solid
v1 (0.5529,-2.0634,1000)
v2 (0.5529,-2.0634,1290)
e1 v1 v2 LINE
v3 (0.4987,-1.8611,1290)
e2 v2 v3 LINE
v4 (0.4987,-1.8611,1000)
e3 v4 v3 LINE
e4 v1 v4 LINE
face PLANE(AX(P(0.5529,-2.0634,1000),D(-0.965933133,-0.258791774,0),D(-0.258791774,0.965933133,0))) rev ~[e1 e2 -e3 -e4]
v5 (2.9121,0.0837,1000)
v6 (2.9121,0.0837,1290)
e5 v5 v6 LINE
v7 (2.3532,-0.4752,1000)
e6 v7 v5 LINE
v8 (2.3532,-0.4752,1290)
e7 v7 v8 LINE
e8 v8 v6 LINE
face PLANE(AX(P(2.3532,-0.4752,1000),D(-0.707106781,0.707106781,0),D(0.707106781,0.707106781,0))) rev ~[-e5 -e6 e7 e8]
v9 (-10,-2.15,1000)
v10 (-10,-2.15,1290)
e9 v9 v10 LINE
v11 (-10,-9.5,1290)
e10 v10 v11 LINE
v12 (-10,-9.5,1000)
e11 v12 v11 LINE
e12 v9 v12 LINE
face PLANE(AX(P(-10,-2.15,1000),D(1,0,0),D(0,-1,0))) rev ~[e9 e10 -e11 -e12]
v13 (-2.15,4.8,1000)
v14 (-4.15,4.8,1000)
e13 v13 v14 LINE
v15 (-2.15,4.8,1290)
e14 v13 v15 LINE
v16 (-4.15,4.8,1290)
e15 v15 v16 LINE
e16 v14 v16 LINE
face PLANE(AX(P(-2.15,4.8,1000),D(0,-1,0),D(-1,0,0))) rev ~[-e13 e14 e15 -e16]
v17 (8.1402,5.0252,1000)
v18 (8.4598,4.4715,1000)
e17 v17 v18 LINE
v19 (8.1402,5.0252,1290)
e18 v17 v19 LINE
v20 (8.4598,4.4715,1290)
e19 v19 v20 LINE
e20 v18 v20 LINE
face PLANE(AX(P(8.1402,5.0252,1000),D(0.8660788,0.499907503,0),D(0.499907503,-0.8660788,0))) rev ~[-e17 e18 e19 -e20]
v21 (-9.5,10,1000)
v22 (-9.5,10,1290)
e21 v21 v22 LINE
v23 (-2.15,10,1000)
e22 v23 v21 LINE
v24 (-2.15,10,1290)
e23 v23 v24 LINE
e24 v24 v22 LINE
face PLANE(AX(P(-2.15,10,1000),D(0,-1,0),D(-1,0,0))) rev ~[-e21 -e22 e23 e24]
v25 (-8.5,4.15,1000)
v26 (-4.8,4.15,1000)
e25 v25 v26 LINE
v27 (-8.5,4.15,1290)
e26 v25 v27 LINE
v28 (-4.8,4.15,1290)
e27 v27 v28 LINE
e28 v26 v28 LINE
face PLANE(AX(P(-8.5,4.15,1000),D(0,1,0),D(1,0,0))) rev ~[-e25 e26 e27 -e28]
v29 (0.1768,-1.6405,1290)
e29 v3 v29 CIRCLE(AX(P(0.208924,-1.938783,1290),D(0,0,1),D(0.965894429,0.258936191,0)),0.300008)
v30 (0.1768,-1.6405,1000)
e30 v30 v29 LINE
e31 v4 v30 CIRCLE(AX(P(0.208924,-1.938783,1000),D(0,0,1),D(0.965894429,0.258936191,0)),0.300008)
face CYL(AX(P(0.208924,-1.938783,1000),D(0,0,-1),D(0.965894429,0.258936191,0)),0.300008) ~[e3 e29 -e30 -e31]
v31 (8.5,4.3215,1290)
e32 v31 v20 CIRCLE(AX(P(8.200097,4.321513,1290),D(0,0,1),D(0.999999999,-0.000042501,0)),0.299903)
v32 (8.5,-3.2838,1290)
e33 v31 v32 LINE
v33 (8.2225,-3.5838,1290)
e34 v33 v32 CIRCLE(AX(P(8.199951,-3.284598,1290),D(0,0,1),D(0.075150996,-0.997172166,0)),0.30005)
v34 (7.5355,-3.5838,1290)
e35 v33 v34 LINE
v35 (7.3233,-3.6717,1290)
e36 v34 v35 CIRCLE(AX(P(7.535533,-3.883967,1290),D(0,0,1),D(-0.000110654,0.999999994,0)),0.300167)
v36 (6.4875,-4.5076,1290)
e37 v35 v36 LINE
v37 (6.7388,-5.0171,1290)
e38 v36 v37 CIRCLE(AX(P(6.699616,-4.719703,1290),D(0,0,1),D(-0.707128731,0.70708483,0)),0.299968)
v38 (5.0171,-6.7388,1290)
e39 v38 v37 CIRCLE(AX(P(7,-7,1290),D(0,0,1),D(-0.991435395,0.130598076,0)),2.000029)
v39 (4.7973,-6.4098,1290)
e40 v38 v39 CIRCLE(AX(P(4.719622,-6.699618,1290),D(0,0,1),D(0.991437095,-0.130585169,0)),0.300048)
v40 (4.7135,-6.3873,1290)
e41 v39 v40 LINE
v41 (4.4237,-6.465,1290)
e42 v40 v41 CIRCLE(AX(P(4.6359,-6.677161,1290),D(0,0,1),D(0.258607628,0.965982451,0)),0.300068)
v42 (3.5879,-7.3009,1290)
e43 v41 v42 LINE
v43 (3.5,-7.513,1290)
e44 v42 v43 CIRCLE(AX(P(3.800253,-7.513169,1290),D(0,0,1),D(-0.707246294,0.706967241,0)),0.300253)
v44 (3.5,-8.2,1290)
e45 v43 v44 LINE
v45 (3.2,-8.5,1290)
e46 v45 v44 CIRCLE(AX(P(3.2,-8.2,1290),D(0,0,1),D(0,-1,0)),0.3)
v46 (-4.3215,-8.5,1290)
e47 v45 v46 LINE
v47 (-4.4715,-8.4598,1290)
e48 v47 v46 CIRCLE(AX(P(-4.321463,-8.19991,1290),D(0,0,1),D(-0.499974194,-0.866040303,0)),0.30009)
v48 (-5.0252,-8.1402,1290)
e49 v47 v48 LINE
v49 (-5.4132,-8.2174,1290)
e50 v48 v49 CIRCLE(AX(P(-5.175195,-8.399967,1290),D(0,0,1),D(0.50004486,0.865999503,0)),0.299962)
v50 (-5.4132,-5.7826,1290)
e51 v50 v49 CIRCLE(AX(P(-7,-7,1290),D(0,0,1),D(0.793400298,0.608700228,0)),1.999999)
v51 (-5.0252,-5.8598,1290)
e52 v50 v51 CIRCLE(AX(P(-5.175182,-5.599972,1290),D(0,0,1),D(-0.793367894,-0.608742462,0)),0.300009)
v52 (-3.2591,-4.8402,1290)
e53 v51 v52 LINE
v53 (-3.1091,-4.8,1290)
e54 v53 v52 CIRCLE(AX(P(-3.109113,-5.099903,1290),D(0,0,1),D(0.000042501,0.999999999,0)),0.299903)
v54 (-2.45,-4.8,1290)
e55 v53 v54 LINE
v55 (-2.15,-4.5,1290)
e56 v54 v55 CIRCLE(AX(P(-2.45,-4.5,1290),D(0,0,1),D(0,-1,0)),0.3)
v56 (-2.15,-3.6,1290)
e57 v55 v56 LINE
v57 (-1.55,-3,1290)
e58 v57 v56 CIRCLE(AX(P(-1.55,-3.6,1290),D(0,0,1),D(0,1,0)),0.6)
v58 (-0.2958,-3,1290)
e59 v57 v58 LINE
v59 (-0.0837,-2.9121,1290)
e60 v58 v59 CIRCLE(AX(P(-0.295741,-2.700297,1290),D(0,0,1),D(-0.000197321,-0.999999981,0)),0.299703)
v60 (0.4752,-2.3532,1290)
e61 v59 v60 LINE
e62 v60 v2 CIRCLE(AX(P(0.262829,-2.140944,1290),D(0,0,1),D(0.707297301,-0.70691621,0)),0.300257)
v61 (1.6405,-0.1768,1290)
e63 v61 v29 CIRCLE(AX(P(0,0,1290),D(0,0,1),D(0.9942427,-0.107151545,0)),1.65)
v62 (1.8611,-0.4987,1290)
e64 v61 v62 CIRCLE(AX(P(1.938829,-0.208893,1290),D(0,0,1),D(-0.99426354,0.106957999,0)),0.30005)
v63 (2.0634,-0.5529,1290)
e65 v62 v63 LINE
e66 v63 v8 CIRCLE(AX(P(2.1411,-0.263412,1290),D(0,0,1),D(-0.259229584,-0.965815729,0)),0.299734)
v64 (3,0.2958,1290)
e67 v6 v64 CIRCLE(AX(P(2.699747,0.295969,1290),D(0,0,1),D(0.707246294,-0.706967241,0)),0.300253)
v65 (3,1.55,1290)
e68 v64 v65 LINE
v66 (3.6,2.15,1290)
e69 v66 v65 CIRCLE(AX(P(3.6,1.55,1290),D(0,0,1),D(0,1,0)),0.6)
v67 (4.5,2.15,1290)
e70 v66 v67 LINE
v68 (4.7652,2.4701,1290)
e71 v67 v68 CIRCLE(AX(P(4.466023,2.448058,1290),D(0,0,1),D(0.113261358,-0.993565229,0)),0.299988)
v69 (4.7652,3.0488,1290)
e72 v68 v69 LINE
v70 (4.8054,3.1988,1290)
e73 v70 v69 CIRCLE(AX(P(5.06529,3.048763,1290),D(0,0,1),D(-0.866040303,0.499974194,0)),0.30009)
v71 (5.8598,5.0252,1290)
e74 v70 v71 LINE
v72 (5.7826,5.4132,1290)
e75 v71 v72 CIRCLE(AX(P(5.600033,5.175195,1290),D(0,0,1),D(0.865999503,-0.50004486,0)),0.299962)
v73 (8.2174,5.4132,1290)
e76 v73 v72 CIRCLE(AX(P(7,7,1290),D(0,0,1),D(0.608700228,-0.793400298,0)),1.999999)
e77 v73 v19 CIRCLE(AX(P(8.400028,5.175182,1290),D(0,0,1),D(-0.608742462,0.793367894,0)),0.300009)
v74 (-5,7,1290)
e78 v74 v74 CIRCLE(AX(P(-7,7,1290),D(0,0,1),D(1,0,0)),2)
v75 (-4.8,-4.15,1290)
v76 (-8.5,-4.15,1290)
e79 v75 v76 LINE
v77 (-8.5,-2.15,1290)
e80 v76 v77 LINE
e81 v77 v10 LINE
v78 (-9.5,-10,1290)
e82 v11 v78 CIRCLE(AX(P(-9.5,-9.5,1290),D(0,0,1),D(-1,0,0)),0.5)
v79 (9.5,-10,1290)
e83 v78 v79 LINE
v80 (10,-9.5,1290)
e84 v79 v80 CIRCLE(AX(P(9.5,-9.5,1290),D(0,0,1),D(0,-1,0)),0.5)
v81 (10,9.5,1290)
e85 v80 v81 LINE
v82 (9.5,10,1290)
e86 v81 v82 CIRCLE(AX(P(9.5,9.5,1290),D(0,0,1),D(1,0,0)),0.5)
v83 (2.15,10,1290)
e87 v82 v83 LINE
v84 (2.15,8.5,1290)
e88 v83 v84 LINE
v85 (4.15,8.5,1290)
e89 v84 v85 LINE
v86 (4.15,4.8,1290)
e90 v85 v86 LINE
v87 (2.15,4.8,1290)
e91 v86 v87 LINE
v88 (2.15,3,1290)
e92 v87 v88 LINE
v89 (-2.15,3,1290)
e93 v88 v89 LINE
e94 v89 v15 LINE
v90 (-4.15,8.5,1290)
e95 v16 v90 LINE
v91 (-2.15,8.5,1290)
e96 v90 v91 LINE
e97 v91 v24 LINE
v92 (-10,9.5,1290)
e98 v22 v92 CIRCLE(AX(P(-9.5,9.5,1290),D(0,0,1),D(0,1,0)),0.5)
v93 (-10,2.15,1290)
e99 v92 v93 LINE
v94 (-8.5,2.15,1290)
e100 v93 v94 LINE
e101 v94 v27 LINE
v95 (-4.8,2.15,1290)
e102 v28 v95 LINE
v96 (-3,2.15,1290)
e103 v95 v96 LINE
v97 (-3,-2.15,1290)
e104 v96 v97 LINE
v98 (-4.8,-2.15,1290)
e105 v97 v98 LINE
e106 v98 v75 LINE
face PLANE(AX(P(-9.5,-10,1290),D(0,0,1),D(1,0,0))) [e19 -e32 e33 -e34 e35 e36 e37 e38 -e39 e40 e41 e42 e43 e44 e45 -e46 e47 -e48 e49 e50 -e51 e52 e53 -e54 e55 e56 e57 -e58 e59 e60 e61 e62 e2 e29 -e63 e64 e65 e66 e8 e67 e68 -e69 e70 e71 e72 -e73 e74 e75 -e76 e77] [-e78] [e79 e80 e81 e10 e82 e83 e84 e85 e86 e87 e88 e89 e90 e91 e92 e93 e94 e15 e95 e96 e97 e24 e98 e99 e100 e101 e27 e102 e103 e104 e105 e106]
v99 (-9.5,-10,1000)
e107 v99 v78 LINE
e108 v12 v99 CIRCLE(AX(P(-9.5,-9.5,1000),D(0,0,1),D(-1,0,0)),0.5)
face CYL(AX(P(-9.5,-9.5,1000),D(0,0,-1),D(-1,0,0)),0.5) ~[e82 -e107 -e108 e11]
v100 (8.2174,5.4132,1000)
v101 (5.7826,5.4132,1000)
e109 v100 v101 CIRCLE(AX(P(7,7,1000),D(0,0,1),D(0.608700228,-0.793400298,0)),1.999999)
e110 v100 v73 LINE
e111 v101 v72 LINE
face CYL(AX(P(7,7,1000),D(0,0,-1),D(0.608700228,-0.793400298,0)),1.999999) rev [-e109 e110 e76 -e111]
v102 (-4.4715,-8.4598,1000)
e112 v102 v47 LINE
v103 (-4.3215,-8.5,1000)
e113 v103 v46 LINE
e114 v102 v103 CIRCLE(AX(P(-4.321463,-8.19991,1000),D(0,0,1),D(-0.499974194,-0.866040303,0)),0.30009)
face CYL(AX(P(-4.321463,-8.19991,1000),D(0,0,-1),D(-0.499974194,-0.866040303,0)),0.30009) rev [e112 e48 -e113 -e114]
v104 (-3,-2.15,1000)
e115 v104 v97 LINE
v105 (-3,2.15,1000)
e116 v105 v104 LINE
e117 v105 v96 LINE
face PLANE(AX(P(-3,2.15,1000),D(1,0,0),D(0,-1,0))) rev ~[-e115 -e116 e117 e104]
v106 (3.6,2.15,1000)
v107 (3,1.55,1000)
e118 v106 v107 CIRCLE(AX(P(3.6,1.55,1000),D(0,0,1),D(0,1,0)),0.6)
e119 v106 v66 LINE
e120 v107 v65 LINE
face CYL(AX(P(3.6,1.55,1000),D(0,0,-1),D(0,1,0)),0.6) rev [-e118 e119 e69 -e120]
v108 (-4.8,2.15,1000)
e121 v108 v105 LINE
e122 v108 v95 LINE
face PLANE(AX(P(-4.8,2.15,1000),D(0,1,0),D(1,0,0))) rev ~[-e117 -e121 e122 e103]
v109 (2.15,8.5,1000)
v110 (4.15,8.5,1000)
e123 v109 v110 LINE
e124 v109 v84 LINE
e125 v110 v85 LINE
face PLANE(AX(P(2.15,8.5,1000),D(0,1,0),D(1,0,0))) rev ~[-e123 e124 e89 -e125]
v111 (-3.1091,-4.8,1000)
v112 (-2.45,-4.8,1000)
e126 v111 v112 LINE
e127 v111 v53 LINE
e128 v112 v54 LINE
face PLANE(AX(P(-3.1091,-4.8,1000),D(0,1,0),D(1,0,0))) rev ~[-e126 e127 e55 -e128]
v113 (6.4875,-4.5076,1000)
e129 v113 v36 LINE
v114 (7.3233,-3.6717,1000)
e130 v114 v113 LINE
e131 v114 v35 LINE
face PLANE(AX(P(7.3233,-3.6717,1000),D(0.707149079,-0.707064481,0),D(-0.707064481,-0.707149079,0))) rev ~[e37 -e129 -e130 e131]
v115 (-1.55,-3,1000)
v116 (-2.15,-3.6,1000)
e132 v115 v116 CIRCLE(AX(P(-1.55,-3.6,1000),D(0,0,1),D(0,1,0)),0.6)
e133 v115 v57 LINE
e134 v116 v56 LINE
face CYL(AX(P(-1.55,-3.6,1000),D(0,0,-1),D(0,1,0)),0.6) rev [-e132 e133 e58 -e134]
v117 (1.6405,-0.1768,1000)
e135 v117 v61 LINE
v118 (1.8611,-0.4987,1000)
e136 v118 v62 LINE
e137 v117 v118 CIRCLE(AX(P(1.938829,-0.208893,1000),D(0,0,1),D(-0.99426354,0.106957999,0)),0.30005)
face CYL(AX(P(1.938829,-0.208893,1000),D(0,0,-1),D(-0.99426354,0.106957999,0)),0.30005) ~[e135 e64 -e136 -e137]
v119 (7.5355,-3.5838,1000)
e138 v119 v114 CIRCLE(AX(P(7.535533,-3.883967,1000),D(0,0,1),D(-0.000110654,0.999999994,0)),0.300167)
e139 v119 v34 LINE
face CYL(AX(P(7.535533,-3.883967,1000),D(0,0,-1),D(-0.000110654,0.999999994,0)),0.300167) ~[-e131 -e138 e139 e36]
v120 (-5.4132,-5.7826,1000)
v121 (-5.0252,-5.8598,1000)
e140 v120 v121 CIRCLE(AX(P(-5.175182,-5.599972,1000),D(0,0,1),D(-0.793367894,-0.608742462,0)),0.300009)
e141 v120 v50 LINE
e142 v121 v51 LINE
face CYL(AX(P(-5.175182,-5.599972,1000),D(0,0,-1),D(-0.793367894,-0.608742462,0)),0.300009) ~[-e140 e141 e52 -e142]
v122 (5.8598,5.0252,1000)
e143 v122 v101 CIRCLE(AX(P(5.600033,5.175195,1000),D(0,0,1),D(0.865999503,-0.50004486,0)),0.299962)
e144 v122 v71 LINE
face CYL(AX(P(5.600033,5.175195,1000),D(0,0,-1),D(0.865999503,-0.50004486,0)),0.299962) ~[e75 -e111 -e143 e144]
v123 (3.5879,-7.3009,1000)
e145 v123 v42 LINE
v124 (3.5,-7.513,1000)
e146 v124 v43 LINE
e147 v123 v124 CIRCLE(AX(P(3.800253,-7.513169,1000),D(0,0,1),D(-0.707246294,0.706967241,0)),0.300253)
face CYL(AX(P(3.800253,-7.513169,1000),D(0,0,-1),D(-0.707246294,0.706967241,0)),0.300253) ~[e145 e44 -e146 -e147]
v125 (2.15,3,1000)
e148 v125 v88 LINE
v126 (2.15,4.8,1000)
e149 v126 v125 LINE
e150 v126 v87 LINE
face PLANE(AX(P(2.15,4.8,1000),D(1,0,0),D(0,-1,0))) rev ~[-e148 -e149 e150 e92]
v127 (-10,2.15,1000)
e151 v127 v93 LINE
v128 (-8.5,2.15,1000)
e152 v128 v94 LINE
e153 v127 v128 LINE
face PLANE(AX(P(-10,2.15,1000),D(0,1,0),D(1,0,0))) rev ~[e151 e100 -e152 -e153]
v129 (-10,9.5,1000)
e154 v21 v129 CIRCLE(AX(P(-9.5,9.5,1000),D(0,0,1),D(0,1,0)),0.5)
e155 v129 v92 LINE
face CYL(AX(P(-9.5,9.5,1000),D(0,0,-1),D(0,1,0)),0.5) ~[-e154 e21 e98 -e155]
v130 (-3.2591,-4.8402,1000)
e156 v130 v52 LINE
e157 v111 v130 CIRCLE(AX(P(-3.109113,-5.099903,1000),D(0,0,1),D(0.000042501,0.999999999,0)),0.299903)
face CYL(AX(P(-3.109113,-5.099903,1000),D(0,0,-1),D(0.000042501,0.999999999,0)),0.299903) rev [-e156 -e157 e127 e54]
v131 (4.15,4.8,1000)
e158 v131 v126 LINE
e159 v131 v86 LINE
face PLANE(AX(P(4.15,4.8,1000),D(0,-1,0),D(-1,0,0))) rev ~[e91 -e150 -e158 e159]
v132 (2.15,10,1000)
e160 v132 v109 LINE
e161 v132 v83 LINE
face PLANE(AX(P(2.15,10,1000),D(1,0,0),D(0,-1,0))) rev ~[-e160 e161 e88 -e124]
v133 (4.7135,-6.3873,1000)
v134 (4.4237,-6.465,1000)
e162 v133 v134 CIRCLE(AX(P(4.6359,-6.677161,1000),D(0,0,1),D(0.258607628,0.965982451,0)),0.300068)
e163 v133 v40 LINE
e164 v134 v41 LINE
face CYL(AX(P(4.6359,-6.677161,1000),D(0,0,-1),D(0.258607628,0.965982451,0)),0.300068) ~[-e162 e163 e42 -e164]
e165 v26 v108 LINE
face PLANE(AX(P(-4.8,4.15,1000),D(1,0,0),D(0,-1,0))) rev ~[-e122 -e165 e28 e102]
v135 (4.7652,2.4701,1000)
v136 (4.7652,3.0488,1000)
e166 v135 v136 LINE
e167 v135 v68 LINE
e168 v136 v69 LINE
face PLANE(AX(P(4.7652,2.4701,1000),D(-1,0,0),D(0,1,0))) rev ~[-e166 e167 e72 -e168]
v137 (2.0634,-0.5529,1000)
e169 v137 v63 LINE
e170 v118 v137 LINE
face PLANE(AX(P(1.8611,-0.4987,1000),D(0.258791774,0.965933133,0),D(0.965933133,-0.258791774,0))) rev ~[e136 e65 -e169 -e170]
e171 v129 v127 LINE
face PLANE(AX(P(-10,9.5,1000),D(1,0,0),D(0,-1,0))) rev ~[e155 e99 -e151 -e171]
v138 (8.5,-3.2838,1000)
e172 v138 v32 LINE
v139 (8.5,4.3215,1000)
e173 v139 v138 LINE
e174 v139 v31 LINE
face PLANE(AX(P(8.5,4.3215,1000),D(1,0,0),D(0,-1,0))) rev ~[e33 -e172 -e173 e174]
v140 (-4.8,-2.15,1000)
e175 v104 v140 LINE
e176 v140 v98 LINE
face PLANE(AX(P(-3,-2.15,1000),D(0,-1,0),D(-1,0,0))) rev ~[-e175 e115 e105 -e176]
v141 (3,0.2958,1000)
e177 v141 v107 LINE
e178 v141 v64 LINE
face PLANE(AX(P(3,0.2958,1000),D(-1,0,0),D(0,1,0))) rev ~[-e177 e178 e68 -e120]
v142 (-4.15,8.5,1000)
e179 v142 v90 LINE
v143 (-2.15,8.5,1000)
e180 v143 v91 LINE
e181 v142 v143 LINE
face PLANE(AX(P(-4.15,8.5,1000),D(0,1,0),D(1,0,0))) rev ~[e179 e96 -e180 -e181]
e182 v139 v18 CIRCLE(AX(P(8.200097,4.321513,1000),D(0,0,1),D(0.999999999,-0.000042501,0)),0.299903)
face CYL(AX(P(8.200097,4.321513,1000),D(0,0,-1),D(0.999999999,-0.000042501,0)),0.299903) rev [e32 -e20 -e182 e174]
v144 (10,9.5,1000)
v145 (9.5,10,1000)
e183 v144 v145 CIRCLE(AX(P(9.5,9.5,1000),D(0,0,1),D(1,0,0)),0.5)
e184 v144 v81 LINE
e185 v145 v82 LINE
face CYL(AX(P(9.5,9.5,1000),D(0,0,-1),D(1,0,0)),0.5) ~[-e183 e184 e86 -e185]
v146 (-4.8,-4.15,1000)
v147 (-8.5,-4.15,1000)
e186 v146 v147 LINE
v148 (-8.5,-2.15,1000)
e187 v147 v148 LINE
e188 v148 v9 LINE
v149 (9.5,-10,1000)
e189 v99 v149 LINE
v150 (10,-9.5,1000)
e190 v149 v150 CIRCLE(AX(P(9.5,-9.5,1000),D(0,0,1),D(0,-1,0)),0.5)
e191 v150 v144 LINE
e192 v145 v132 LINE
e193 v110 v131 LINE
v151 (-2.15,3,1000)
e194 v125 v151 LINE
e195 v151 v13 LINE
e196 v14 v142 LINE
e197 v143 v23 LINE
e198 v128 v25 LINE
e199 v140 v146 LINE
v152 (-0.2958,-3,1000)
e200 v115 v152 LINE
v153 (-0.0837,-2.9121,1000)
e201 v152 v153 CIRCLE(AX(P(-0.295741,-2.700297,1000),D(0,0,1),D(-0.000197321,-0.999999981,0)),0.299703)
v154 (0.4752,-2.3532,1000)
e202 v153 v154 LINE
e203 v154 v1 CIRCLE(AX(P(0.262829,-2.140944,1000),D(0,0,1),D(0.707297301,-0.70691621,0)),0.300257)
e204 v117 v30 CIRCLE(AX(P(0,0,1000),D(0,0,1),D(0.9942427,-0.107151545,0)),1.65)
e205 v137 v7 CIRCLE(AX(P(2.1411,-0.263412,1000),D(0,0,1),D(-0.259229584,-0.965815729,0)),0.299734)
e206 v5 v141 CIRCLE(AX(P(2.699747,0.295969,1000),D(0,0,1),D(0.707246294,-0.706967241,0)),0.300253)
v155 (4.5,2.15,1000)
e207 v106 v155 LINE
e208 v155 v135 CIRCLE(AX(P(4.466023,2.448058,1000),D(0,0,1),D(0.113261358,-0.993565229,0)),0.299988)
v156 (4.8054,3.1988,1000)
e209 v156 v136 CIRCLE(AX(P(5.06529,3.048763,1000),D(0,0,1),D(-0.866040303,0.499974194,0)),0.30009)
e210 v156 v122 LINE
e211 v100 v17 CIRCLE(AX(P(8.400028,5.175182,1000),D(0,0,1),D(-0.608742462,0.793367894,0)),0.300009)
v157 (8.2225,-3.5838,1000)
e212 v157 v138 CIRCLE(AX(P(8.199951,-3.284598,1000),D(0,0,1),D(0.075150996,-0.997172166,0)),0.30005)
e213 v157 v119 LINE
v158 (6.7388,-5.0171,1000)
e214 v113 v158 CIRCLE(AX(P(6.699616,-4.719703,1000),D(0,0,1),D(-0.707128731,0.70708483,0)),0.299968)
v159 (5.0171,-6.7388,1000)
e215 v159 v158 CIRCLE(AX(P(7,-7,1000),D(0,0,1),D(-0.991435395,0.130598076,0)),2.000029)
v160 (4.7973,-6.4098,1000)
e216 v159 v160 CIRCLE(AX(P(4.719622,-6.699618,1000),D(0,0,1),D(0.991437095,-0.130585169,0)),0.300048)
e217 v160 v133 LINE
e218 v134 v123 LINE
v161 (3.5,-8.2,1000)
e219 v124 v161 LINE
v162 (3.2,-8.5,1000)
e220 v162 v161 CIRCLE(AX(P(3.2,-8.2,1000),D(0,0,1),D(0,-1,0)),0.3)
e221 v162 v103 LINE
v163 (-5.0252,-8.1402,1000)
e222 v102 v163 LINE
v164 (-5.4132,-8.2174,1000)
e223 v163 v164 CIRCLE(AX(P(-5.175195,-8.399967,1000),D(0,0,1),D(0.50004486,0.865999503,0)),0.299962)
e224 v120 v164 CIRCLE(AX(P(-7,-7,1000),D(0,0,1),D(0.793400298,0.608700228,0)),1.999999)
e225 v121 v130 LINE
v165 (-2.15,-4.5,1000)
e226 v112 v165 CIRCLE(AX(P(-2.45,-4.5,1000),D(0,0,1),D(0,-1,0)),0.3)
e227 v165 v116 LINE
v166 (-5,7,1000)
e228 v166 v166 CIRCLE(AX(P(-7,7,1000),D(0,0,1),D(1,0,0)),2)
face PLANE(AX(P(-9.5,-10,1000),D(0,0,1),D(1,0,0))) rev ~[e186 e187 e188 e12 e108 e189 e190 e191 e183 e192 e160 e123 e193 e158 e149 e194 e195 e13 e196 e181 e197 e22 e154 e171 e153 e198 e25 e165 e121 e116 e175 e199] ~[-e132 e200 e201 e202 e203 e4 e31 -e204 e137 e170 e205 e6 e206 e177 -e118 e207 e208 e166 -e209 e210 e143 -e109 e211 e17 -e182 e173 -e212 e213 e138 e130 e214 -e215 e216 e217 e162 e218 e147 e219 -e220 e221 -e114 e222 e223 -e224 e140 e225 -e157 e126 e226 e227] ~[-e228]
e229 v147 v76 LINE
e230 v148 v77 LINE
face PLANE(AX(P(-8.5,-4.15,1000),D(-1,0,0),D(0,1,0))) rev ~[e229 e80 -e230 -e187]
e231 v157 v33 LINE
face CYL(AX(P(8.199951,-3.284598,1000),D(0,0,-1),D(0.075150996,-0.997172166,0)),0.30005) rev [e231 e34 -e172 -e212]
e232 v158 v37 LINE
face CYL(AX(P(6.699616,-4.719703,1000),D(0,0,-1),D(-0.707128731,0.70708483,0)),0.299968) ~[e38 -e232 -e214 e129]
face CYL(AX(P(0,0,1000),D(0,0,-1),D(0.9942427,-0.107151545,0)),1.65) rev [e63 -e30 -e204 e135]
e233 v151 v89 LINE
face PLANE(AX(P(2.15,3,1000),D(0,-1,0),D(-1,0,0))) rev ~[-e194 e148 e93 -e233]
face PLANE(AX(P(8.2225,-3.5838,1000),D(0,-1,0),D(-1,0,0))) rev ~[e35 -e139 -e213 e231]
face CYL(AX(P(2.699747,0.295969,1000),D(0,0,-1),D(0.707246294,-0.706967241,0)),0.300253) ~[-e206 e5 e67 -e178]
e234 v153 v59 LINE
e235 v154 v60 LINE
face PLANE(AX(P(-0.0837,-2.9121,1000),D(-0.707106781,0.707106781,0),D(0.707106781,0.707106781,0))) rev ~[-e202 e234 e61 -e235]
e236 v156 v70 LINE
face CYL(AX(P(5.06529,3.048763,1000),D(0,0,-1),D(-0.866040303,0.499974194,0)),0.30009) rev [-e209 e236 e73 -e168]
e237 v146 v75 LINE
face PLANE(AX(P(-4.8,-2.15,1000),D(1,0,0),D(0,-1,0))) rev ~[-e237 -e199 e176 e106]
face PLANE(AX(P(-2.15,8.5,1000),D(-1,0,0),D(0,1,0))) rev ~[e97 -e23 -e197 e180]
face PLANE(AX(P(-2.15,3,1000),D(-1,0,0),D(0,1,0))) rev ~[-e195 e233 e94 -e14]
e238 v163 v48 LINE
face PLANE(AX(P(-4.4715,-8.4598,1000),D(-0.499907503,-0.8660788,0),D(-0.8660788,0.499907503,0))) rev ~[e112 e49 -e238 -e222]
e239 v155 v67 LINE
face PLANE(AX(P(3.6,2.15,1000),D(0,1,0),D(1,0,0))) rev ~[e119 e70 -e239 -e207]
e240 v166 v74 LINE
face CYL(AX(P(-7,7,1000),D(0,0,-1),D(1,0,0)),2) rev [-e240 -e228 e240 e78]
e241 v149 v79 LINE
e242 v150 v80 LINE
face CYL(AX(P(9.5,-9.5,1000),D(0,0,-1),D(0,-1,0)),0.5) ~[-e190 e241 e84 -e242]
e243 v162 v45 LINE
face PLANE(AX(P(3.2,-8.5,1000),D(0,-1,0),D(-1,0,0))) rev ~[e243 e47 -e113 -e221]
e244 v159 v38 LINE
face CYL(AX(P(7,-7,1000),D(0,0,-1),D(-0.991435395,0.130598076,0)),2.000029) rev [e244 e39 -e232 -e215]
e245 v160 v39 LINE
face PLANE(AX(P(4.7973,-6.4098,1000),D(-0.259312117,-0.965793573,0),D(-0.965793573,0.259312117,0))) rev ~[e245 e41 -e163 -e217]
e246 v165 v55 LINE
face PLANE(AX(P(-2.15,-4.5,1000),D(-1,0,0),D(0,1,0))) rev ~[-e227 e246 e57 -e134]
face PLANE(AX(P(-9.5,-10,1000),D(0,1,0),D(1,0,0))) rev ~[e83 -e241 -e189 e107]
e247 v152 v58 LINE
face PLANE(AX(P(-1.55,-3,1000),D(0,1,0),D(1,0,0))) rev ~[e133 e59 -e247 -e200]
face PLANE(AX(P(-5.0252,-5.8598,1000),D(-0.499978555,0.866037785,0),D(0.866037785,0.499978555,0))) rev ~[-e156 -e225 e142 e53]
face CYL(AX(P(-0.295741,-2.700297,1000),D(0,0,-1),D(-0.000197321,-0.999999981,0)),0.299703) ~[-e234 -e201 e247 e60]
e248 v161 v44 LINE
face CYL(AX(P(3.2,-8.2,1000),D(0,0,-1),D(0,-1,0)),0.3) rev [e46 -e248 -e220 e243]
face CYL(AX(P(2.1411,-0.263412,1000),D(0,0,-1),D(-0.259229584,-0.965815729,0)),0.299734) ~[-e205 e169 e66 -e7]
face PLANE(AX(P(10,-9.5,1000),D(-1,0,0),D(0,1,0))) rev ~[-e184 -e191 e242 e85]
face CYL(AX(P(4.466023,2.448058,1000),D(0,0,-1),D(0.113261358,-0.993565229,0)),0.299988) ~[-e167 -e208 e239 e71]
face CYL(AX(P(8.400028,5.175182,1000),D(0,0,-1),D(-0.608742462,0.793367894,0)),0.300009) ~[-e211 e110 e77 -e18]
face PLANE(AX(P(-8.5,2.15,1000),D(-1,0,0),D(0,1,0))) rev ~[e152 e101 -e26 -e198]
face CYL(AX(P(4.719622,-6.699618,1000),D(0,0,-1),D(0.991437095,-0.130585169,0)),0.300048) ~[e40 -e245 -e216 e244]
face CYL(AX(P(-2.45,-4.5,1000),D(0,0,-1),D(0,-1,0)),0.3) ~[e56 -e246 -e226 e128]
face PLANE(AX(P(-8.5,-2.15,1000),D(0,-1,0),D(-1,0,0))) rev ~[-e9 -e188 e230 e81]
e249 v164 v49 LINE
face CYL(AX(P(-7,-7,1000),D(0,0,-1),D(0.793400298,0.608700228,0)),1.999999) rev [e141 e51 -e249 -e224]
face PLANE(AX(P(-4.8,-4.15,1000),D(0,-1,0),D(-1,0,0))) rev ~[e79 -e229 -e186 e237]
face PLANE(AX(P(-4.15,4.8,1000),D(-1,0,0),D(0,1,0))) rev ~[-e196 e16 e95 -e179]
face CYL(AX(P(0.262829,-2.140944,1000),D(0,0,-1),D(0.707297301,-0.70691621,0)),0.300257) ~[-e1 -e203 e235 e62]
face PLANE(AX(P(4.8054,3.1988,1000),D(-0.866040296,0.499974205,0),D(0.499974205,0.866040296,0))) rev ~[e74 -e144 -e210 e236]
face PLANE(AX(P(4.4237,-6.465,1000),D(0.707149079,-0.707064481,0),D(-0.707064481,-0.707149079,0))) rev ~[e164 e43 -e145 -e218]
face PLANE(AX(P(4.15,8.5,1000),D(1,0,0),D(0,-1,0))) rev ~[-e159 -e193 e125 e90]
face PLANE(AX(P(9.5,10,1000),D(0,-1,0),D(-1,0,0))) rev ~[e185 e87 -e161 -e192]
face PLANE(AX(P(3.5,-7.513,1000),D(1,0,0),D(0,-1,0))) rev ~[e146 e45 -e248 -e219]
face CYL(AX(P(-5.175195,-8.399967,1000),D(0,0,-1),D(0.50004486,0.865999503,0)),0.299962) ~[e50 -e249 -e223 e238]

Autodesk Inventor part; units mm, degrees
ref_plane "YZ Plane" through (0, 0, 0) normal (1, 0, 0) x (0, 1, 0)
ref_plane "XZ Plane" through (0, 0, 0) normal (0, 1, 0) x (-1, 0, 0)
ref_plane "作業平面1" through (-9.5, -10, 1000) normal (0, 0, 1) x (1, 0, 0)
sketch "スケッチ1" plane through (-9.5, -10, 1000) normal (0, 0, 1) x (1, 0, 0)
  line L0 (7.35, 18.5) -> (7.35, 20) projected
  line L1 (7.35, 20) -> (0, 20) projected
  arc A0 (0, 20) -> (-0.5, 19.5) centre (0, 19.5) ccw projected
  line L2 (-0.5, 19.5) -> (-0.5, 12.15) projected
  line L3 (-0.5, 12.15) -> (1, 12.15) projected
  line L4 (1, 12.15) -> (1, 14.15) projected
  line L5 (1, 14.15) -> (4.7, 14.15) projected
  line L6 (4.7, 14.15) -> (4.7, 12.15) projected
  line L7 (4.7, 12.15) -> (6.5, 12.15) projected
  line L8 (6.5, 12.15) -> (6.5, 7.85) projected
  line L9 (6.5, 7.85) -> (4.7, 7.85) projected
  line L10 (4.7, 7.85) -> (4.7, 5.85) projected
  line L11 (4.7, 5.85) -> (1, 5.85) projected
  line L12 (1, 5.85) -> (1, 7.85) projected
  line L13 (1, 7.85) -> (-0.5, 7.85) projected
  line L14 (-0.5, 7.85) -> (-0.5, 0.5) projected
  arc A1 (-0.5, 0.5) -> (0, 0) centre (0, 0.5) ccw projected
  line L15 (0, 0) -> (19, 0) projected
  arc A2 (19, 0) -> (19.5, 0.5) centre (19, 0.5) ccw projected
  line L16 (19.5, 0.5) -> (19.5, 19.5) projected
  arc A3 (19.5, 19.5) -> (19, 20) centre (19, 19.5) ccw projected
  line L17 (19, 20) -> (11.65, 20) projected
  line L18 (11.65, 20) -> (11.65, 18.5) projected
  line L19 (11.65, 18.5) -> (13.65, 18.5) projected
  line L20 (13.65, 18.5) -> (13.65, 14.8) projected
  line L21 (13.65, 14.8) -> (11.65, 14.8) projected
  line L22 (11.65, 14.8) -> (11.65, 13) projected
  line L23 (11.65, 13) -> (7.35, 13) projected
  line L24 (7.35, 13) -> (7.35, 14.8) projected
  line L25 (7.35, 14.8) -> (5.35, 14.8) projected
  line L26 (5.35, 14.8) -> (5.35, 18.5) projected
  line L27 (5.35, 18.5) -> (7.35, 18.5) projected
  arc A4 (17.7174, 15.4132) -> (17.6402, 15.0252) centre (17.9, 15.1752) ccw projected
  line L28 (17.6402, 15.0252) -> (17.9598, 14.4715) projected
  arc A5 (18, 14.3215) -> (17.9598, 14.4715) centre (17.7, 14.3215) ccw projected
  line L29 (18, 14.3215) -> (18, 6.7162) projected
  arc A6 (17.7225, 6.4162) -> (18, 6.7162) centre (17.7, 6.7153) ccw projected
  line L30 (17.7225, 6.4162) -> (17.0355, 6.4162) projected
  arc A7 (17.0355, 6.4162) -> (16.8233, 6.3283) centre (17.0355, 6.1162) ccw projected
  line L31 (16.8233, 6.3283) -> (15.9875, 5.4924) projected
  arc A8 (15.9875, 5.4924) -> (16.2388, 4.9829) centre (16.1996, 5.2803) ccw projected
  arc A9 (14.5171, 3.2612) -> (16.2388, 4.9829) centre (16.5, 3) ccw projected
  arc A10 (14.5171, 3.2612) -> (14.2973, 3.5902) centre (14.2197, 3.3004) ccw projected
  line L32 (14.2973, 3.5902) -> (14.2135, 3.6127) projected
  arc A11 (14.2135, 3.6127) -> (13.9237, 3.535) centre (14.1359, 3.3229) ccw projected
  line L33 (13.9237, 3.535) -> (13.0879, 2.6991) projected
  arc A12 (13.0879, 2.6991) -> (13, 2.487) centre (13.3, 2.487) ccw projected
  line L34 (13, 2.487) -> (13, 1.8) projected
  arc A13 (12.7, 1.5) -> (13, 1.8) centre (12.7, 1.8) ccw projected
  line L35 (12.7, 1.5) -> (5.1785, 1.5) projected
  arc A14 (5.0285, 1.5402) -> (5.1785, 1.5) centre (5.1785, 1.8) ccw projected
  line L36 (5.0285, 1.5402) -> (4.4748, 1.8598) projected
  arc A15 (4.4748, 1.8598) -> (4.0868, 1.7826) centre (4.3248, 1.6) ccw projected
  arc A16 (4.0868, 4.2174) -> (4.0868, 1.7826) centre (2.5, 3) ccw projected
  arc A17 (4.0868, 4.2174) -> (4.4748, 4.1402) centre (4.3248, 4.4) ccw projected
  line L37 (4.4748, 4.1402) -> (6.2409, 5.1598) projected
  arc A18 (6.3909, 5.2) -> (6.2409, 5.1598) centre (6.3909, 4.9) ccw projected
  line L38 (6.3909, 5.2) -> (7.05, 5.2) projected
  arc A19 (7.05, 5.2) -> (7.35, 5.5) centre (7.05, 5.5) ccw projected
  line L39 (7.35, 5.5) -> (7.35, 6.4) projected
  arc A20 (7.95, 7) -> (7.35, 6.4) centre (7.95, 6.4) ccw projected
  line L40 (7.95, 7) -> (9.2042, 7) projected
  arc A21 (9.2042, 7) -> (9.4163, 7.0879) centre (9.2042, 7.3) ccw projected
  line L41 (9.4163, 7.0879) -> (9.9752, 7.6468) projected
  arc A22 (9.9752, 7.6468) -> (10.0529, 7.9366) centre (9.7631, 7.8589) ccw projected
  line L42 (10.0529, 7.9366) -> (9.9987, 8.1389) projected
  arc A23 (9.9987, 8.1389) -> (9.6768, 8.3595) centre (9.7089, 8.0612) ccw projected
  arc A24 (11.1405, 9.8232) -> (9.6768, 8.3595) centre (9.5, 10) ccw projected
  arc A25 (11.1405, 9.8232) -> (11.3611, 9.5013) centre (11.4388, 9.7911) ccw projected
  line L43 (11.3611, 9.5013) -> (11.5634, 9.4471) projected
  arc A26 (11.5634, 9.4471) -> (11.8532, 9.5248) centre (11.6411, 9.7369) ccw projected
  line L44 (11.8532, 9.5248) -> (12.4121, 10.0837) projected
  arc A27 (12.4121, 10.0837) -> (12.5, 10.2958) centre (12.2, 10.2958) ccw projected
  line L45 (12.5, 10.2958) -> (12.5, 11.55) projected
  arc A28 (13.1, 12.15) -> (12.5, 11.55) centre (13.1, 11.55) ccw projected
  line L46 (13.1, 12.15) -> (14, 12.15) projected
  arc A29 (14, 12.15) -> (14.2652, 12.4701) centre (13.966, 12.4481) ccw projected
  line L47 (14.2652, 12.4701) -> (14.2652, 13.0488) projected
  arc A30 (14.3054, 13.1988) -> (14.2652, 13.0488) centre (14.5652, 13.0488) ccw projected
  line L48 (14.3054, 13.1988) -> (15.3598, 15.0252) projected
  arc A31 (15.3598, 15.0252) -> (15.2826, 15.4132) centre (15.1, 15.1752) ccw projected
  arc A32 (17.7174, 15.4132) -> (15.2826, 15.4132) centre (16.5, 17) ccw projected
  circle A33 centre (2.5, 17) radius 2 projected
  point P0 (9.5, 10)
extrude "押し出し1" add sketch "スケッチ1" along normal blind 290
properties part number "AFST-2020-4-1000"
